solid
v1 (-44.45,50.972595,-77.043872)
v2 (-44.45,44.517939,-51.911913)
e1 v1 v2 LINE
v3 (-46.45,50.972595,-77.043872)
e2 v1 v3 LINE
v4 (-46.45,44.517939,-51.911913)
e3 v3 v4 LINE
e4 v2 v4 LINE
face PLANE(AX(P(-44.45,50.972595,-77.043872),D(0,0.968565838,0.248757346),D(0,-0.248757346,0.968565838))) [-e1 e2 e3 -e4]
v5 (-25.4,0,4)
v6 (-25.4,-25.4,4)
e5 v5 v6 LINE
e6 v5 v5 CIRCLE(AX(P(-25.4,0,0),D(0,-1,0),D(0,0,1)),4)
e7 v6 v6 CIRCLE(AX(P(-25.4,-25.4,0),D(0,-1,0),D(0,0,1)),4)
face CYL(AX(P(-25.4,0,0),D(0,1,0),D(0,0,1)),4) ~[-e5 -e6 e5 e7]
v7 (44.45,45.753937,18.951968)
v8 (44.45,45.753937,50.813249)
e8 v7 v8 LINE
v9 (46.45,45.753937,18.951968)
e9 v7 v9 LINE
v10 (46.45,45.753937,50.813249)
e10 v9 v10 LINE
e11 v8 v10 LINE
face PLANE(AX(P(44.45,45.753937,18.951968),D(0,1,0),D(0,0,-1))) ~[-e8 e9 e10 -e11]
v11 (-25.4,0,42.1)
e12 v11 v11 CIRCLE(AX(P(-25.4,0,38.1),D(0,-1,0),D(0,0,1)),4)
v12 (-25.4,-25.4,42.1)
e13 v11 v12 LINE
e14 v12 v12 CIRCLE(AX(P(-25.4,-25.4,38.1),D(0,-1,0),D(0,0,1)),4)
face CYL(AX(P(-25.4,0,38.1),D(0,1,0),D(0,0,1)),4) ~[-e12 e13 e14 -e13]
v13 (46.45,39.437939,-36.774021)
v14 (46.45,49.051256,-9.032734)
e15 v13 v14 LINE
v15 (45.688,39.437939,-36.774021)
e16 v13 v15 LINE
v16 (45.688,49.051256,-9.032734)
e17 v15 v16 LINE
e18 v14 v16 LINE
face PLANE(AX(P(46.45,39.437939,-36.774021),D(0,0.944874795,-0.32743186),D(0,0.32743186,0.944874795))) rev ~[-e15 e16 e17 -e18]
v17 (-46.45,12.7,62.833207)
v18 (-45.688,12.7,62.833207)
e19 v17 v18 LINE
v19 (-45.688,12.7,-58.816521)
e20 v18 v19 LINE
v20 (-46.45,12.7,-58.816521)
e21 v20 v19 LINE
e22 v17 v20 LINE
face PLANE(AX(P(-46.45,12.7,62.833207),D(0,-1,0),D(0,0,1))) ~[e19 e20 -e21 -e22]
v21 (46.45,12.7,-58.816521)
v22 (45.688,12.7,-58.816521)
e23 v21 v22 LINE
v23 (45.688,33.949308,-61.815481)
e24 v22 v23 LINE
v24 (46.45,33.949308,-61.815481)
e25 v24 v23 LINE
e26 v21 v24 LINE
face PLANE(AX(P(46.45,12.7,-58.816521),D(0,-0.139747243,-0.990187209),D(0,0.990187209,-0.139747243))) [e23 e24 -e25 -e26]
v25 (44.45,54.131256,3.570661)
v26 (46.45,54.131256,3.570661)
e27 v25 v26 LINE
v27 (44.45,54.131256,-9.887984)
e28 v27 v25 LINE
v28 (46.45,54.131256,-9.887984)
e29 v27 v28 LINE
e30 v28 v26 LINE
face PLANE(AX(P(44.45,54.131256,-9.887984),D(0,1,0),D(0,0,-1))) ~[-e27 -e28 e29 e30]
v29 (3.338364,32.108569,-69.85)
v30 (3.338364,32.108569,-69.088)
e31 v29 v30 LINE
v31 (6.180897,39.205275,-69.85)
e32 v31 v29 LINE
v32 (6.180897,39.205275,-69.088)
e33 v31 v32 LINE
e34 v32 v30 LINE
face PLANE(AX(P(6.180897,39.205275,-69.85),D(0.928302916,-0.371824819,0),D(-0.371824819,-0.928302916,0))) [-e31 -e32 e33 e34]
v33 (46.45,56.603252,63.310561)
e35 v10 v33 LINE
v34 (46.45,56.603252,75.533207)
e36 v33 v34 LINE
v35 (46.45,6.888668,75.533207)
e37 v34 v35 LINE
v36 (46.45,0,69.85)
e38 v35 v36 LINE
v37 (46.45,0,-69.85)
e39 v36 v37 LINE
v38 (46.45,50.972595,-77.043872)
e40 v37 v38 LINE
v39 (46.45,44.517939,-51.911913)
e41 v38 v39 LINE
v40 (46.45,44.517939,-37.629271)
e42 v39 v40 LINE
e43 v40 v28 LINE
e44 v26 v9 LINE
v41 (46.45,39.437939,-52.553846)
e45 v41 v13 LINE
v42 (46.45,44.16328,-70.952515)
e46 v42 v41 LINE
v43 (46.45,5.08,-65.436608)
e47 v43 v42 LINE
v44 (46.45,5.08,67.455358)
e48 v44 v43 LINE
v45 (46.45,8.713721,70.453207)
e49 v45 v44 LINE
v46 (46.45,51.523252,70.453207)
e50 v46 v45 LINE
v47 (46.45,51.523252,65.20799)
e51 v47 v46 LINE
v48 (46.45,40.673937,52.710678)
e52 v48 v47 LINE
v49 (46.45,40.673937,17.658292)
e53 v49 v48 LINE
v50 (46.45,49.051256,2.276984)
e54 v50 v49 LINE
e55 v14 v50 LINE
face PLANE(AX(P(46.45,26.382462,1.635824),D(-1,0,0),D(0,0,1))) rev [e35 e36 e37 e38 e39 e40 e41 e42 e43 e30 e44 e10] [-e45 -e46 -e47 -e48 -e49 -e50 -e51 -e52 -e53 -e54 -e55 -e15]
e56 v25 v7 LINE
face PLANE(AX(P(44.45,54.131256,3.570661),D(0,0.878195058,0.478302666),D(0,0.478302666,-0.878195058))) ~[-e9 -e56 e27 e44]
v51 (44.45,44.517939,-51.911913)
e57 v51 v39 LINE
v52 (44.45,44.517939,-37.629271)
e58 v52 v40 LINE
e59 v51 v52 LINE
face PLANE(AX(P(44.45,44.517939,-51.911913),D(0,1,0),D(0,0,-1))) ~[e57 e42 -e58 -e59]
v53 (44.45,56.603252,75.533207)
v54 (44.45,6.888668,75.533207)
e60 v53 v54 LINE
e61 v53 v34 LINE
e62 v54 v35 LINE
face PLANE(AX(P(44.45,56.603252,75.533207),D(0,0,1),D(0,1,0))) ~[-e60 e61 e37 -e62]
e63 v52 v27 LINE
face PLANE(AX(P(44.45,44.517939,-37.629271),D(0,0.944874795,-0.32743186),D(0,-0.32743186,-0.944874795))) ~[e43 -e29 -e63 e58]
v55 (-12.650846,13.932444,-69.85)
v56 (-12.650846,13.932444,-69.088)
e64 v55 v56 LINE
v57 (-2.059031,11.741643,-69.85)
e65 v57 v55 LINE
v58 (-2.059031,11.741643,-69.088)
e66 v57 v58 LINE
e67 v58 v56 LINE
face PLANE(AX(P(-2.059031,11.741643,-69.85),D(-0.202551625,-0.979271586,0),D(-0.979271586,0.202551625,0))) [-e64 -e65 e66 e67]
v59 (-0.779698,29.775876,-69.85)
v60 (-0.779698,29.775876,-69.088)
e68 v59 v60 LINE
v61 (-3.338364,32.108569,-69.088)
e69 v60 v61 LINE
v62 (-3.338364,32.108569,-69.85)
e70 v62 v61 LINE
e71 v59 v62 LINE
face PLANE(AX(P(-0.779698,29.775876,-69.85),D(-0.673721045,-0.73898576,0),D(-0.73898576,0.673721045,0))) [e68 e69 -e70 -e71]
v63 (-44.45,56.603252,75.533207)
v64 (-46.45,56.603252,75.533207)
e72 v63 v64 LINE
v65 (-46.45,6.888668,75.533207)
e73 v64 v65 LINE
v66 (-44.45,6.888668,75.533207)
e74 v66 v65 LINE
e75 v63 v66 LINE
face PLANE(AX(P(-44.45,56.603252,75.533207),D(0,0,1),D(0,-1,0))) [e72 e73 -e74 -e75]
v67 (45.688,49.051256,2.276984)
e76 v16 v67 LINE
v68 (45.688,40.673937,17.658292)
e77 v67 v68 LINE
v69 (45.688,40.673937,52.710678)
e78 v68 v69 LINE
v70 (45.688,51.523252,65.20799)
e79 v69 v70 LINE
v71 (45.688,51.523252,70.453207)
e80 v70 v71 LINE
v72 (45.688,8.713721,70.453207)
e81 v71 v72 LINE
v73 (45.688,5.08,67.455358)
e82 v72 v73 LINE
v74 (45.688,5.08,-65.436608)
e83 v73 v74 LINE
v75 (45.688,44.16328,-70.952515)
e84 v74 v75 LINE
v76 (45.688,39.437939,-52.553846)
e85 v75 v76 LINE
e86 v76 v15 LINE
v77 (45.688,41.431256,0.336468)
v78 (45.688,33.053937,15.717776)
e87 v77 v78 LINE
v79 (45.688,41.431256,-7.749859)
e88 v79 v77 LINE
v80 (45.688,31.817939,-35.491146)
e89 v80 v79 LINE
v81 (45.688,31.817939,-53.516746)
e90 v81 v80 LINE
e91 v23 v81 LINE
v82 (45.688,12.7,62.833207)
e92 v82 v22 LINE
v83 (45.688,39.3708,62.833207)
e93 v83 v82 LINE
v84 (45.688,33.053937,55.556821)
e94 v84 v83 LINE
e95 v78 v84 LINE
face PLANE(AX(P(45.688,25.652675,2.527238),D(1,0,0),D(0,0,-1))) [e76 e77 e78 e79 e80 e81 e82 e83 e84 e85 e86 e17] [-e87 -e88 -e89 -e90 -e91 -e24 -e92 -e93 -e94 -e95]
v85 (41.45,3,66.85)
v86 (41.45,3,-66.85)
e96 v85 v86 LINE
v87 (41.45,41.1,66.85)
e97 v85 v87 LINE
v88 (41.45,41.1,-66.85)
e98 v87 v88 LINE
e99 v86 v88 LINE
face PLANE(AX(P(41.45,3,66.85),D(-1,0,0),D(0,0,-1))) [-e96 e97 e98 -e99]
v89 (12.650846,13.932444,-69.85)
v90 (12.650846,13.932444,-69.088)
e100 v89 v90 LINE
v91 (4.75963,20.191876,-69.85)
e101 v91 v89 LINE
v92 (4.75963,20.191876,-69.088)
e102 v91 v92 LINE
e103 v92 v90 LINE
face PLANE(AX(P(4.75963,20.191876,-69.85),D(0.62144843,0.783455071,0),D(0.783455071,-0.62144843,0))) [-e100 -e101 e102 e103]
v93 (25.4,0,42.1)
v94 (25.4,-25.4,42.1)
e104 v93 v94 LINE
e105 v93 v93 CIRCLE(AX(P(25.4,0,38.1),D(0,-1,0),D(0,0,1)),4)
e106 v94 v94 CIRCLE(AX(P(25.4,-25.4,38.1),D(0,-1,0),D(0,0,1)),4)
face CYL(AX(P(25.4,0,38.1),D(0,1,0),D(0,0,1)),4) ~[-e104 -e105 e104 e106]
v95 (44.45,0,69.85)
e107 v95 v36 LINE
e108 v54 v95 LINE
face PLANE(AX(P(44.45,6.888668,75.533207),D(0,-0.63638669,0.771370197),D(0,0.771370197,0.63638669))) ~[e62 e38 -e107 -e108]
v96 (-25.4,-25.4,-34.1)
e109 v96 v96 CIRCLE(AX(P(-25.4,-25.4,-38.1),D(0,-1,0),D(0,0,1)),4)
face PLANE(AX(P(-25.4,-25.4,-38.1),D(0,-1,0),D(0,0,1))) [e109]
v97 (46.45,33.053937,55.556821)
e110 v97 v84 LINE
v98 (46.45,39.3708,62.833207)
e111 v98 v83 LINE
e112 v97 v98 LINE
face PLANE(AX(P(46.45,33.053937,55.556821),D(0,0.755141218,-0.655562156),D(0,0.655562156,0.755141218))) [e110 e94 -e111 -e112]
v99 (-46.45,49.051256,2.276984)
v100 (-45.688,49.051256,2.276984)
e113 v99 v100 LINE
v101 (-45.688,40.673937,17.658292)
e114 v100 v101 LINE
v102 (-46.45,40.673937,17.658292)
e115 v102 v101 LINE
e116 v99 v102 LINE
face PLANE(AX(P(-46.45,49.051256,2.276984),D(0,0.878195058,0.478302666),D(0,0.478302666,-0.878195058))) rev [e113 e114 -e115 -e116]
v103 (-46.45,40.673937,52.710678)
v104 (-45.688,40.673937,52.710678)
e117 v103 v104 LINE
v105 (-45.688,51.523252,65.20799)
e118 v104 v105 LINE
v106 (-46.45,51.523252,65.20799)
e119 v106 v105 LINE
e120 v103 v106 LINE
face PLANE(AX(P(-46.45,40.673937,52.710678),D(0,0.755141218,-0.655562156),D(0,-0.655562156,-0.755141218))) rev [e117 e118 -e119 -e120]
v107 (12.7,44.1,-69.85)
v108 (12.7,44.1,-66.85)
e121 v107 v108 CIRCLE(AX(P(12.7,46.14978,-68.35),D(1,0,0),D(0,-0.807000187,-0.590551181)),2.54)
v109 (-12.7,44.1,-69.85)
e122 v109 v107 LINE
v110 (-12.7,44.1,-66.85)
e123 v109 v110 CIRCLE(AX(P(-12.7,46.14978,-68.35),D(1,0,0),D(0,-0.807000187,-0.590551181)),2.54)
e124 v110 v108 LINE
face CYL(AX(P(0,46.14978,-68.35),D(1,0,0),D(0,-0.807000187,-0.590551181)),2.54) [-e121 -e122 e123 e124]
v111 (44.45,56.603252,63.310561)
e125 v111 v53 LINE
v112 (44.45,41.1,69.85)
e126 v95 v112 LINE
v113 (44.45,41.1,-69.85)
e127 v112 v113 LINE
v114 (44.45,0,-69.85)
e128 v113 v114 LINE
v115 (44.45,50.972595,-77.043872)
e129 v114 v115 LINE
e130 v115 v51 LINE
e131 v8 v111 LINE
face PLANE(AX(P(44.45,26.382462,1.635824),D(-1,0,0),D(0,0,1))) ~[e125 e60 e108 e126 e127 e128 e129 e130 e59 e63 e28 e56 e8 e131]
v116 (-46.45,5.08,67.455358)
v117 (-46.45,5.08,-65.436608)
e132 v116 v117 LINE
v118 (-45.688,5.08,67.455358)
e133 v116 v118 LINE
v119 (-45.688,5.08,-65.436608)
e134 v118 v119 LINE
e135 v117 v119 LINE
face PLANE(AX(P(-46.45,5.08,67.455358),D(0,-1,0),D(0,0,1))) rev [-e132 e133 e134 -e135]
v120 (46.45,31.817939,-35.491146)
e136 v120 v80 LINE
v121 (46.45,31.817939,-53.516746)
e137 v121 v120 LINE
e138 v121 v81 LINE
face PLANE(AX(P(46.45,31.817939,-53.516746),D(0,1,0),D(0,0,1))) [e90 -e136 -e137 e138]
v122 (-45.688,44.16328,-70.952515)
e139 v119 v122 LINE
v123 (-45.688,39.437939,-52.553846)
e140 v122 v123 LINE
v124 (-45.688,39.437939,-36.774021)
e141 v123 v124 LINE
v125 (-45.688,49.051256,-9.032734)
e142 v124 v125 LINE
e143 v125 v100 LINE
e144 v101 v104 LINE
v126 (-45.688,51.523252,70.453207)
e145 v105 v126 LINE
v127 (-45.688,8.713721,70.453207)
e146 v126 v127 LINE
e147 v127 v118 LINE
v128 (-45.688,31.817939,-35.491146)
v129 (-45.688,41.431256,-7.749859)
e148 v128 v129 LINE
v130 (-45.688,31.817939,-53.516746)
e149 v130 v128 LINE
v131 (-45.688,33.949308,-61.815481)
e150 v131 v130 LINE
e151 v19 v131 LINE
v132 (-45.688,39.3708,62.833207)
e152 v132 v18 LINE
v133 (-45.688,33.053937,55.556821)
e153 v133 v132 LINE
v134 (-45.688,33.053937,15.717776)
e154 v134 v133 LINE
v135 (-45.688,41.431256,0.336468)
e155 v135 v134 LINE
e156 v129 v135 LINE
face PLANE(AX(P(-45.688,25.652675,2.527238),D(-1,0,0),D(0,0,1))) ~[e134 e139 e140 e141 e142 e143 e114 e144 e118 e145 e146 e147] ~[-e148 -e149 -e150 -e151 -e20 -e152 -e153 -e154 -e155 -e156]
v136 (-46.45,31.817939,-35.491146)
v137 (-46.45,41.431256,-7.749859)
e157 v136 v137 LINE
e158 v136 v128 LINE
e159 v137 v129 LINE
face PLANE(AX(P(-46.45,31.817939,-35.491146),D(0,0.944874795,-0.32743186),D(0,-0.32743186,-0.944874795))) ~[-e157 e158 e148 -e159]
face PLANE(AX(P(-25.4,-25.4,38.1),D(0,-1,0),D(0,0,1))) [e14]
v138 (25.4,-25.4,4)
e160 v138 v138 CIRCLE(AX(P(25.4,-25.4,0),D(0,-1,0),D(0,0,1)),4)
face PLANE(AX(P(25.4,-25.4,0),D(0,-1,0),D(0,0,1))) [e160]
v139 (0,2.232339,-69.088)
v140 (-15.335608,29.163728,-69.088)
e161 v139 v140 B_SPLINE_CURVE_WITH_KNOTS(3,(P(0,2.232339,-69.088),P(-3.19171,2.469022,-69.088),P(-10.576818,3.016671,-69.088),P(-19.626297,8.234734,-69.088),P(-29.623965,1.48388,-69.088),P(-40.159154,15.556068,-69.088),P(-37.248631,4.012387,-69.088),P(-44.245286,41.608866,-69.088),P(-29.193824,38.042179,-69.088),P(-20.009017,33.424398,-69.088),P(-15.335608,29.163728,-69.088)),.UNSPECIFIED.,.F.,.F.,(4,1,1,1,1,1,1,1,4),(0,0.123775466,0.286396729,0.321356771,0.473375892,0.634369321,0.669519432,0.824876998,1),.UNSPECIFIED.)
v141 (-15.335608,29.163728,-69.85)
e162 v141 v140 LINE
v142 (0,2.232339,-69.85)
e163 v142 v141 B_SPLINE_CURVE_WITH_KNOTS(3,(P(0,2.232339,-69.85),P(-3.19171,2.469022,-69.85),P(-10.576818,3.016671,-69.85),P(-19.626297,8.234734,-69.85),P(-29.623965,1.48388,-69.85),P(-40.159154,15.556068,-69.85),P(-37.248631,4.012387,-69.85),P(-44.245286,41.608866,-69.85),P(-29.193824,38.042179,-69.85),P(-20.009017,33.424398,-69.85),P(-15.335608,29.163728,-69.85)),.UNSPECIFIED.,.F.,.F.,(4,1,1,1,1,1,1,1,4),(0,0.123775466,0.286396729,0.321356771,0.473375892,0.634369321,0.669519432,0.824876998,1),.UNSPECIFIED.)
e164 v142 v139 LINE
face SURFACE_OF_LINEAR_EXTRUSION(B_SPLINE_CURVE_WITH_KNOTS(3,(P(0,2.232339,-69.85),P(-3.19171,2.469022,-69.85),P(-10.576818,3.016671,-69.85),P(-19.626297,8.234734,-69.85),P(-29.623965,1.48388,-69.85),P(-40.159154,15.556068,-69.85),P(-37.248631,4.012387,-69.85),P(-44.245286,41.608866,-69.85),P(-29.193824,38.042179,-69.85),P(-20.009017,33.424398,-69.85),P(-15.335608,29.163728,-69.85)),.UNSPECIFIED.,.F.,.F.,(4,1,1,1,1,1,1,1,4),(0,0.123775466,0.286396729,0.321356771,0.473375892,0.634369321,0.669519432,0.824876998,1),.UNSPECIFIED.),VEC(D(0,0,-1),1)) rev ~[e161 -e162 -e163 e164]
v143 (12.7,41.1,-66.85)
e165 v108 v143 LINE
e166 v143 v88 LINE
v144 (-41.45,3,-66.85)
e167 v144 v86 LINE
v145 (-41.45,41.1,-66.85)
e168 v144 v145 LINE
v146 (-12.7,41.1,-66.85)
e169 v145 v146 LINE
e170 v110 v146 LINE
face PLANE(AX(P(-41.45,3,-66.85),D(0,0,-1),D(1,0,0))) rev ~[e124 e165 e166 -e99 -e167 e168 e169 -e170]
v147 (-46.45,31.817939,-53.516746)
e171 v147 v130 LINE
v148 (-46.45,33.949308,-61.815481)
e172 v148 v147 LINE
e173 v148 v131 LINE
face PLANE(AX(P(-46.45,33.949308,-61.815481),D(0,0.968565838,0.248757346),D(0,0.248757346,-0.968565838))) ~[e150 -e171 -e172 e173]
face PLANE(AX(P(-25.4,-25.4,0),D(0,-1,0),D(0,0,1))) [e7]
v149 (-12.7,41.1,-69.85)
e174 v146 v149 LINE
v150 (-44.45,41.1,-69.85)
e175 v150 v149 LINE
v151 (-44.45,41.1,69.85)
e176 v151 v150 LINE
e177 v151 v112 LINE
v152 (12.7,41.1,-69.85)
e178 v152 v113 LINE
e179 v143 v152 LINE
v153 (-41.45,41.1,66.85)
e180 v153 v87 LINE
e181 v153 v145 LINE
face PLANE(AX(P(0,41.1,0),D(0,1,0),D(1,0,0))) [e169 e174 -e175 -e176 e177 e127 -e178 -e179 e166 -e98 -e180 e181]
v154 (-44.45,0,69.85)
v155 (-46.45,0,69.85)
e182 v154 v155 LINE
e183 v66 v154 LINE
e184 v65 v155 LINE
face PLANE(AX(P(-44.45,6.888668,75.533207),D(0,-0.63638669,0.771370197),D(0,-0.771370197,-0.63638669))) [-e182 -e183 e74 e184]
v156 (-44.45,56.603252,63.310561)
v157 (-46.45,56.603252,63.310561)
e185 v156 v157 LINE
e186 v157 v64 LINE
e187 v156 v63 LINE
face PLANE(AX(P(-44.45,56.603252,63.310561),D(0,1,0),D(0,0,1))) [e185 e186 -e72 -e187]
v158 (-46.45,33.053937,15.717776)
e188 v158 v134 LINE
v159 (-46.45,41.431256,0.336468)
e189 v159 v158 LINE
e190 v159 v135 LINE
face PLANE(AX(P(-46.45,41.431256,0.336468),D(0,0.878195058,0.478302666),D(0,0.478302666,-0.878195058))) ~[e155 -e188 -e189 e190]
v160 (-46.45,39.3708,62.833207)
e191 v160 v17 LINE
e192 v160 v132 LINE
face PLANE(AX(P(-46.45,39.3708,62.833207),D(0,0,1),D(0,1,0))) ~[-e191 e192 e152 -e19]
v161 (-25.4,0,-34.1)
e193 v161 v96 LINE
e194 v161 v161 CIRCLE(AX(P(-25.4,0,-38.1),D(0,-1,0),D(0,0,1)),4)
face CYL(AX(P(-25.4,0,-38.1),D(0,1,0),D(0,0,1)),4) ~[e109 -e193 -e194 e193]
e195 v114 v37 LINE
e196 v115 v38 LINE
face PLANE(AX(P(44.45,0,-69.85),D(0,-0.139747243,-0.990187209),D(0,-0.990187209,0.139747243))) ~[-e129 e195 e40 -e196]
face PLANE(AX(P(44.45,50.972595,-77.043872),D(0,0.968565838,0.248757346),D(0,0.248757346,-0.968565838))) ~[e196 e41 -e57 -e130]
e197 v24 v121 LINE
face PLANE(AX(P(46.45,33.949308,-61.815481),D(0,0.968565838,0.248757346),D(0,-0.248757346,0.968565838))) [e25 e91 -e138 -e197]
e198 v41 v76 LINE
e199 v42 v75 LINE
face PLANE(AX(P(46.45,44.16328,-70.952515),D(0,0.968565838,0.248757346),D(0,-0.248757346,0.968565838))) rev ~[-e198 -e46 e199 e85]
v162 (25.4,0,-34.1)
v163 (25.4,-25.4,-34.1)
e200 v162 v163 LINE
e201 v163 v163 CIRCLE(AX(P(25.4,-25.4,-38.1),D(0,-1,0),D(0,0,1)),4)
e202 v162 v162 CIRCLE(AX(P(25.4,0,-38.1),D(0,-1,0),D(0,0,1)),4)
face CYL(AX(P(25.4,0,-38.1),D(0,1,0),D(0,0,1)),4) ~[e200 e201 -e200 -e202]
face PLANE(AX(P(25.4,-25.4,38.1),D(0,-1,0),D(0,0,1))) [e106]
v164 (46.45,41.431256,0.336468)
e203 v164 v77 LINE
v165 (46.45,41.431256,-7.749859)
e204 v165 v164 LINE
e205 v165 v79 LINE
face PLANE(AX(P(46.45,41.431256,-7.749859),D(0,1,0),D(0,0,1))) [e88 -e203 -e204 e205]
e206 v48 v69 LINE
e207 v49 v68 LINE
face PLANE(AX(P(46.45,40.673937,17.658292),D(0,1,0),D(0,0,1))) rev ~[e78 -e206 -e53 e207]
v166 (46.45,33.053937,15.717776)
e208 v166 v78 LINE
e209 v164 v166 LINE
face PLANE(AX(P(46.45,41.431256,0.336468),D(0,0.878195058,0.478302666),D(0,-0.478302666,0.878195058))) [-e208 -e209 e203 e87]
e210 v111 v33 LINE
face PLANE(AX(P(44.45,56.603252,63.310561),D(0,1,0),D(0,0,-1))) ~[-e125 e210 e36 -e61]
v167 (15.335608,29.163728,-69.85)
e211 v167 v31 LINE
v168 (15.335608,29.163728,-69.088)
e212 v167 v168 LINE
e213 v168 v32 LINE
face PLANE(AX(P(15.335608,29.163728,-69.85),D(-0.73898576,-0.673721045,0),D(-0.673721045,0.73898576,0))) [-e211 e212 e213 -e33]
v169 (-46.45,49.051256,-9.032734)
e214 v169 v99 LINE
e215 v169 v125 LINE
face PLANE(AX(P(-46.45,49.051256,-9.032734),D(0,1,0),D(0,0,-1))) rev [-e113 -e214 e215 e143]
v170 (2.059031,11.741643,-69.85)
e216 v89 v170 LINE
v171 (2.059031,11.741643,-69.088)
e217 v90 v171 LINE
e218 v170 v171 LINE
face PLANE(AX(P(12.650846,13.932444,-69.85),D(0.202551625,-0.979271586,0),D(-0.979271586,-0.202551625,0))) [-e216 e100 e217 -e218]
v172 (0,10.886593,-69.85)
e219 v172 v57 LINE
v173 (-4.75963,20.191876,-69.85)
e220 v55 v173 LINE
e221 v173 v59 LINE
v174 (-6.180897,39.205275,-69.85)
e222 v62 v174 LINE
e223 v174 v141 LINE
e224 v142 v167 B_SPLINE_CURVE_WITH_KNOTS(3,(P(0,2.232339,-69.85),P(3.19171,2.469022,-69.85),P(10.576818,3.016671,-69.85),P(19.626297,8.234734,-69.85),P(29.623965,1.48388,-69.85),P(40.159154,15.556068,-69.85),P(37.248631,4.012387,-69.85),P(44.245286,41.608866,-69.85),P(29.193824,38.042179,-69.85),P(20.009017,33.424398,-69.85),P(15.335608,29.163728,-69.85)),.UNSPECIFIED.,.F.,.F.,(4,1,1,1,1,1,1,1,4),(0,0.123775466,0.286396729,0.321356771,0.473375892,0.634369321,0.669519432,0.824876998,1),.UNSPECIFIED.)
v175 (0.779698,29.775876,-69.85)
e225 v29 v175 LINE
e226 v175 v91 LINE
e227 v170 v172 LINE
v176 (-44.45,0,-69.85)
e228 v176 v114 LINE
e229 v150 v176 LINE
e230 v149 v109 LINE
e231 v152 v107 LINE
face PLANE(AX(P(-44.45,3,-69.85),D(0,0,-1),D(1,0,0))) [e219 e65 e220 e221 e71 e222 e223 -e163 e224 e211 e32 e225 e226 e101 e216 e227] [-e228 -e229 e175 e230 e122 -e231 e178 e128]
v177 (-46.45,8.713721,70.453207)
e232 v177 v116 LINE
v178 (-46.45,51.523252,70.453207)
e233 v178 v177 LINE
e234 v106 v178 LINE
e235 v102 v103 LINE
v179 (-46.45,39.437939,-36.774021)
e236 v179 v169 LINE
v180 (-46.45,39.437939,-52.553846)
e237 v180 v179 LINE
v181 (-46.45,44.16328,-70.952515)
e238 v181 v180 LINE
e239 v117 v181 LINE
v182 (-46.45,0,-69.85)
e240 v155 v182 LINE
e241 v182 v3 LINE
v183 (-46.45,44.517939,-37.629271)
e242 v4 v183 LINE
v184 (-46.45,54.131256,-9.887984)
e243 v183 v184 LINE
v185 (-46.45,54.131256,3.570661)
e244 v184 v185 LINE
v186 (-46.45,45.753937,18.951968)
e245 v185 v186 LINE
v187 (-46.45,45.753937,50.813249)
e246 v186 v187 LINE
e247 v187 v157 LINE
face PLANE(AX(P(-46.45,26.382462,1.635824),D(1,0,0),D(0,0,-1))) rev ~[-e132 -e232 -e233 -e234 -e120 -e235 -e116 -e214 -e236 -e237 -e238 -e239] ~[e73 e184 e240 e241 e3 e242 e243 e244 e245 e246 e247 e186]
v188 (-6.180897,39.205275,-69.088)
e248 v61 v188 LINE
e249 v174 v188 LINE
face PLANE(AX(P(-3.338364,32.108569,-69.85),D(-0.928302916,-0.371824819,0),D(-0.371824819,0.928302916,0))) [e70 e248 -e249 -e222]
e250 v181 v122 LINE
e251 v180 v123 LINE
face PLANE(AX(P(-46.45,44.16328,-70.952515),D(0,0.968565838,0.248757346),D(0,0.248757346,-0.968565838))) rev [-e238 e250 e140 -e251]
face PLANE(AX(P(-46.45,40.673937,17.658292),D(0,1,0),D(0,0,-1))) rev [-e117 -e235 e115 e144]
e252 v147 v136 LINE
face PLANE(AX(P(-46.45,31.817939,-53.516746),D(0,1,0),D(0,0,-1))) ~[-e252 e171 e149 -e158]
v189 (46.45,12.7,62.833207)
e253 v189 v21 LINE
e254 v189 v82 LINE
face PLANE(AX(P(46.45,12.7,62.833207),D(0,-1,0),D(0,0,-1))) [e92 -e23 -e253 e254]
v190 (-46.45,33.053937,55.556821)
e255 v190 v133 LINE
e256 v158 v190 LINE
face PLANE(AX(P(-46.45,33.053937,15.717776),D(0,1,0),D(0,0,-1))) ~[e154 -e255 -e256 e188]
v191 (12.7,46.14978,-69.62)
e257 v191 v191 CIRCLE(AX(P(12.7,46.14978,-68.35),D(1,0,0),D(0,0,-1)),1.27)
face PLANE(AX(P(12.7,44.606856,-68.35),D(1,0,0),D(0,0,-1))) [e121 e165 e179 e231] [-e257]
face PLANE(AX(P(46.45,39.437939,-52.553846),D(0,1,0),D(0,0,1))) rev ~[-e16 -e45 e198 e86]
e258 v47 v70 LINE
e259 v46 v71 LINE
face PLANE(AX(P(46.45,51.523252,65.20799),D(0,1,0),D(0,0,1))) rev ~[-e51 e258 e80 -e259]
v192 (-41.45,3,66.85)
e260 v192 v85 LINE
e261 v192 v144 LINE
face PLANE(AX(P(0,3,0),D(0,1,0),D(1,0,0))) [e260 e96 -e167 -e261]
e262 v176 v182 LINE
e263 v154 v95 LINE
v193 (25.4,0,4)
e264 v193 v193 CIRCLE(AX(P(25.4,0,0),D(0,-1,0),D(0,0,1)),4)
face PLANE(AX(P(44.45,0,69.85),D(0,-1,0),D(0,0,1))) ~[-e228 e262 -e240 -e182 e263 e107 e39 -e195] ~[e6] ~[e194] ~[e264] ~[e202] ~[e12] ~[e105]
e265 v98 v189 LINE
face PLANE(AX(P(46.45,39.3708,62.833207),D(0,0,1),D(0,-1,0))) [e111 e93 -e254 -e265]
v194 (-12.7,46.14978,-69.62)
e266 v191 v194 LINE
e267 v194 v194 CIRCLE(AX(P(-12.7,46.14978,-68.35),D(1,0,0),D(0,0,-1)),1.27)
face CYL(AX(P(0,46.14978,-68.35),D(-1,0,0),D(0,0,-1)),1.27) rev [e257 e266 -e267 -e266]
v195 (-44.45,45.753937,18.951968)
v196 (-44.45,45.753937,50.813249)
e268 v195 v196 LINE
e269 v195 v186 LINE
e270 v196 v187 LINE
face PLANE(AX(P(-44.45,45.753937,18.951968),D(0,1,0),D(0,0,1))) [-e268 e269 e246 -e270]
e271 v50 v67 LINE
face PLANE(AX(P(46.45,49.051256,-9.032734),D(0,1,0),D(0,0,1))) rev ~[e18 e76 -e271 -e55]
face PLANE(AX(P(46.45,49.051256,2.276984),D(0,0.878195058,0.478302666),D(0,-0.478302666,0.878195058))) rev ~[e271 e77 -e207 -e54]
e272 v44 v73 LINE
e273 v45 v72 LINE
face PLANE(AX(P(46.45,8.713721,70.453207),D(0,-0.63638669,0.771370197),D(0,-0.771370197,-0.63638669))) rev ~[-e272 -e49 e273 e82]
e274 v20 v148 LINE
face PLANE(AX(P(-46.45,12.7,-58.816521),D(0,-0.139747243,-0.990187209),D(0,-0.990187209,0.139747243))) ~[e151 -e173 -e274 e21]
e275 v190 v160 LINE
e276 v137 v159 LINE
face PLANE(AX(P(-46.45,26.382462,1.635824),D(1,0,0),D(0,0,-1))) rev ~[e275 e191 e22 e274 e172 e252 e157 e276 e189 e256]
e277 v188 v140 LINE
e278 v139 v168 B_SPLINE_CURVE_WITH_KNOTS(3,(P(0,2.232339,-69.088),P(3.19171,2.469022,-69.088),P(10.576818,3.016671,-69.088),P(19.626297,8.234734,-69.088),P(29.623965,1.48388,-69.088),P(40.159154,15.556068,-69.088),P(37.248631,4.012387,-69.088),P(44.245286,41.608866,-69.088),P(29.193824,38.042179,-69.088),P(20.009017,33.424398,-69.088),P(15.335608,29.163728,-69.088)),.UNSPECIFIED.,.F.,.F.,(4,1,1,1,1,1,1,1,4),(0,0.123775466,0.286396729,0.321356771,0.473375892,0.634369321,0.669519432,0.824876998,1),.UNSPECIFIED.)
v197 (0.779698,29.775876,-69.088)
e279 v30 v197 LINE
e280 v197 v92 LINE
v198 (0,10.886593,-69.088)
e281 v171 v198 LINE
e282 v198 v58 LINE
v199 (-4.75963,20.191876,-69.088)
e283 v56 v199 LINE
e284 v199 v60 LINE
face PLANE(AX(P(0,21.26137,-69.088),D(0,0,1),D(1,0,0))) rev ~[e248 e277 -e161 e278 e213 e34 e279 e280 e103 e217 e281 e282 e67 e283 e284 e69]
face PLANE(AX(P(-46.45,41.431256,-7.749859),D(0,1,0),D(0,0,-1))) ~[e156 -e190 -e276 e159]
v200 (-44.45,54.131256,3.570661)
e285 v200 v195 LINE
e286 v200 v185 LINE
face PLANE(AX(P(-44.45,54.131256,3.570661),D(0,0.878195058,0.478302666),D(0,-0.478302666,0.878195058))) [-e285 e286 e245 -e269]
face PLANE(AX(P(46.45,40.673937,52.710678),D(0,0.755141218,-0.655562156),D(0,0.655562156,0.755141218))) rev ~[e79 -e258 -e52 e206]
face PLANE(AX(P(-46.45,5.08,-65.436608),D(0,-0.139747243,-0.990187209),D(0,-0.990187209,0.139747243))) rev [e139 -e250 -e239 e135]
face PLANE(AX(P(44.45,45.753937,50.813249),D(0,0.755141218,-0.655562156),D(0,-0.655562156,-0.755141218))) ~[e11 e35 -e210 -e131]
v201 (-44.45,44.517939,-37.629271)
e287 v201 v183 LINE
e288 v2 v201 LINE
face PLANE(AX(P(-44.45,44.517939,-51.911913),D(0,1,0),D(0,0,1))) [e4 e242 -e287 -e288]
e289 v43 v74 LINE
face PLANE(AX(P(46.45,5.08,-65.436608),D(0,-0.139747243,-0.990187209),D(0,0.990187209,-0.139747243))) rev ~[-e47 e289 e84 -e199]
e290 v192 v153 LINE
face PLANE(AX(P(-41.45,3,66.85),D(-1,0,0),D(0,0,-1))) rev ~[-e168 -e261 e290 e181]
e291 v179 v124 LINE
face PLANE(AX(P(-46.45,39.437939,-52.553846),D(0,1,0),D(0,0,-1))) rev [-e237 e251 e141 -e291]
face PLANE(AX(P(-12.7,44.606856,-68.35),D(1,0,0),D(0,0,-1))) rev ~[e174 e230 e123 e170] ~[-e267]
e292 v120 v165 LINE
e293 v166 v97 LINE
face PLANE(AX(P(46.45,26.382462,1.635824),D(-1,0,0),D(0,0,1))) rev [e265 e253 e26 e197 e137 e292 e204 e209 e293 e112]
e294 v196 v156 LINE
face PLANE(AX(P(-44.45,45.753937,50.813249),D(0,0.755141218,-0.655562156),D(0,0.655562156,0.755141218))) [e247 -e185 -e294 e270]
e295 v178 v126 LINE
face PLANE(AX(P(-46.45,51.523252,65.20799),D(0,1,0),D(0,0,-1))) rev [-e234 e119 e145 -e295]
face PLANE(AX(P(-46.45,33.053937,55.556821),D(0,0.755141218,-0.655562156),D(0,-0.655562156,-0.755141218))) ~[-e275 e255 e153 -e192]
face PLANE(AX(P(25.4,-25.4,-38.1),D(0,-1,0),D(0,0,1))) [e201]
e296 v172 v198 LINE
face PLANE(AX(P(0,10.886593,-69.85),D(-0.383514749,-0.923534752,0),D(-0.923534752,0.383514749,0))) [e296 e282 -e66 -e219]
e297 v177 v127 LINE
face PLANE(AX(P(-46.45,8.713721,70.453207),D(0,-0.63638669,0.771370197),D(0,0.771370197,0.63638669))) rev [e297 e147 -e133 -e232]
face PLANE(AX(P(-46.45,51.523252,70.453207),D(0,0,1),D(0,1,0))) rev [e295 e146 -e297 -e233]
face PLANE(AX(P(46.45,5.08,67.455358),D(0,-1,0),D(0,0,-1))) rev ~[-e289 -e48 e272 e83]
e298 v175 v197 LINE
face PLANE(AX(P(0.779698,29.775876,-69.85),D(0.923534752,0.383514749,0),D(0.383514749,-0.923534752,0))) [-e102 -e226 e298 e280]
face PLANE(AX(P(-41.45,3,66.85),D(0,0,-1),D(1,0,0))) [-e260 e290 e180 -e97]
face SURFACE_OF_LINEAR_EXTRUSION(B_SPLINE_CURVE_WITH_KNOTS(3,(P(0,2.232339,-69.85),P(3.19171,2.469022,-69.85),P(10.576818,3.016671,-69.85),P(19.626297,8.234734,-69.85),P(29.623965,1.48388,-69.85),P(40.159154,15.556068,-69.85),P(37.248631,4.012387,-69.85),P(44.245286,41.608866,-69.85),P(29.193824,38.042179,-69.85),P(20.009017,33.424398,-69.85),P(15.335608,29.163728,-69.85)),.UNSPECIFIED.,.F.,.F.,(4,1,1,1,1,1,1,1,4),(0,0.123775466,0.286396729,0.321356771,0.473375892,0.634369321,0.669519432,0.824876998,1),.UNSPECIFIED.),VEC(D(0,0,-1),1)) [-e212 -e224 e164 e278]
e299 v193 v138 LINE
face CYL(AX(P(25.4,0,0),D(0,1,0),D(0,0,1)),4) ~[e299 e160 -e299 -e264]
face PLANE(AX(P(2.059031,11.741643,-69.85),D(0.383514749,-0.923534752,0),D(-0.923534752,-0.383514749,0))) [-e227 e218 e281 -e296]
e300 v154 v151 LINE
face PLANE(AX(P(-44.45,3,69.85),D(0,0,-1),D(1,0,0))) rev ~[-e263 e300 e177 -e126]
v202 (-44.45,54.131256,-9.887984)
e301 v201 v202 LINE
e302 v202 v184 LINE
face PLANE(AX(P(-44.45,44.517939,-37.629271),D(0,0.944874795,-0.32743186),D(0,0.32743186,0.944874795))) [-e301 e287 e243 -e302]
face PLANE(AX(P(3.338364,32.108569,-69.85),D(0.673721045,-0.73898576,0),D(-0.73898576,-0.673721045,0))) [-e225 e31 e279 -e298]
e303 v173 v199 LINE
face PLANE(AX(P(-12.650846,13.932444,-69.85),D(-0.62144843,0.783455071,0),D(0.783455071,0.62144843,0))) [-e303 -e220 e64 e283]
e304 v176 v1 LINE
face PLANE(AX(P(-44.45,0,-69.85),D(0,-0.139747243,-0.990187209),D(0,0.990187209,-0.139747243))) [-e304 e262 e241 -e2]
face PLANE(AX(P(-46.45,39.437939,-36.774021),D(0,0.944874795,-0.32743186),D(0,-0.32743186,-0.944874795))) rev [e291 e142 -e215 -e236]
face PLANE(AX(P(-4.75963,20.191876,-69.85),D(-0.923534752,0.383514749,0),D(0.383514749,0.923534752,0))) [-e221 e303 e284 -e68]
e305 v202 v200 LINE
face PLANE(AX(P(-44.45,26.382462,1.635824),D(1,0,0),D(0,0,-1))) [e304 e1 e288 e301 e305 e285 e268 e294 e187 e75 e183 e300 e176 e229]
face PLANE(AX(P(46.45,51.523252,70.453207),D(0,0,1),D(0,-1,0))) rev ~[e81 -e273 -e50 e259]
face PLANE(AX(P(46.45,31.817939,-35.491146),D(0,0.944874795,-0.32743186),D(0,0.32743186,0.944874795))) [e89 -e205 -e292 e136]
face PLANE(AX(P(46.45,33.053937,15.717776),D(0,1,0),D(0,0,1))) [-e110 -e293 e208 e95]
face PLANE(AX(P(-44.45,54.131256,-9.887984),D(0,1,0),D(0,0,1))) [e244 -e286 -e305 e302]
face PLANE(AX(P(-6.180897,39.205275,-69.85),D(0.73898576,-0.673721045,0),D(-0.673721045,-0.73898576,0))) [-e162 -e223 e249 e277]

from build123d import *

# Parameters (mm, degrees)
SKETCH2_W           = 88.9
SKETCH2_H           = 139.7
BOSS_EXTRUDE1_DEPTH = 3
SKETCH3_R           = 4
BOSS_EXTRUDE2_DEPTH = 25.4
SKETCH4_W           = 88.9
SKETCH4_H           = 139.7
SKETCH4_W_2         = 82.9
SKETCH4_H_2         = 133.7
BOSS_EXTRUDE3_DEPTH = 38.1
BOSS_EXTRUDE4_DEPTH = 2
SKETCH6_R           = 1.27
BOSS_EXTRUDE5_DEPTH = 12.7
CUT_EXTRUDE1_DEPTH  = 0.762
CUT_EXTRUDE6_DEPTH  = 0.762


with BuildPart() as part:
    # Sketch2 → Boss-Extrude1 (new body)
    with BuildSketch(Plane(origin=(0, 0, 0), x_dir=(1, 0, 0), z_dir=(0, 1, 0))):
        Rectangle(SKETCH2_W, SKETCH2_H)
    extrude(amount=BOSS_EXTRUDE1_DEPTH)

    # Sketch3 → Boss-Extrude2 (add)
    with BuildSketch(Plane.XZ):
        with Locations(Location((-25.4, 0, 0), (0, 0, 90))):
            Circle(SKETCH3_R)
        with Locations(Location((-25.4, 38.1, 0), (0, 0, 90))):
            Circle(SKETCH3_R)
        with Locations(Location((-25.4, -38.1, 0), (0, 0, 90))):
            Circle(SKETCH3_R)
        with Locations(Location((25.4, -38.1, 0), (0, 0, 90))):
            Circle(SKETCH3_R)
        with Locations(Location((25.4, 38.1, 0), (0, 0, 90))):
            Circle(SKETCH3_R)
        with Locations(Location((25.4, 0, 0), (0, 0, 90))):
            Circle(SKETCH3_R)
    extrude(amount=BOSS_EXTRUDE2_DEPTH)

    # Sketch4 → Boss-Extrude3 (add)
    with BuildSketch(Plane(origin=(0, 3, 0), x_dir=(1, 0, 0), z_dir=(0, 1, 0))):
        Rectangle(SKETCH4_W, SKETCH4_H)
        Rectangle(SKETCH4_W_2, SKETCH4_H_2, mode=Mode.SUBTRACT)
    extrude(amount=BOSS_EXTRUDE3_DEPTH)

    # Sketch5 → Boss-Extrude4 (add)
    with BuildSketch(Plane.ZY.offset(44.45)):
        Polygon((-69.85, 0), (-77.043871534, 50.972594762), (-51.91191344, 44.517938858), (-37.629270589, 44.517938858), (-9.887983512, 54.131256162), (3.570660713, 54.131256162), (18.951968399, 45.753936798), (50.813248605, 45.753936798), (63.3105611, 56.60325204), (75.533207386, 56.60325204), (75.533207386, 6.88866827), (69.85, 0), align=None)
    boss_extrude4 = extrude(amount=BOSS_EXTRUDE4_DEPTH)

    # Mirror1: Boss-Extrude4 across plane
    add(boss_extrude4.mirror(Plane(origin=(0, 0, 0), x_dir=(0, 0, 1), z_dir=(1, 0, 0))))

    # Sketch6 → Boss-Extrude5 (add, symmetric)
    with BuildSketch(Plane(origin=(0, 0, 0), x_dir=(0, 0, -1), z_dir=(1, 0, 0))):
        with BuildLine():
            Line((69.85, 41.1), (69.85, 44.1))
            ThreePointArc((69.85, 44.1), (68.35, 48.689780476), (66.85, 44.1))
            Line((66.85, 44.1), (66.85, 41.1))
            Line((66.85, 41.1), (69.85, 41.1))
        make_face()
        with Locations((68.35, 46.149780476)):
            Circle(SKETCH6_R, mode=Mode.SUBTRACT)
    extrude(amount=BOSS_EXTRUDE5_DEPTH, both=True)

    # Sketch8 → Cut-Extrude1 (cut)
    with BuildSketch(Plane(origin=(46.45, 0, 0), x_dir=(0, 0, -1), z_dir=(1, 0, 0))):
        Polygon((-67.455357815, 5.08), (65.436608301, 5.08), (70.952515373, 44.163280067), (52.553846412, 39.437938858), (36.774020754, 39.437938858), (9.032733678, 49.051256162), (-2.276983823, 49.051256162), (-17.658291509, 40.673936798), (-52.710677553, 40.673936798), (-65.207990048, 51.52325204), (-70.453207386, 51.52325204), (-70.453207386, 8.71372121), align=None)
        Polygon((-62.833207386, 12.7), (58.816520753, 12.7), (61.815481132, 33.949308024), (53.516745871, 31.817938858), (35.491146002, 31.817938858), (7.749858926, 41.431256162), (-0.336468488, 41.431256162), (-15.717776174, 33.053936798), (-55.556820974, 33.053936798), (-62.833207386, 39.370799727), align=None, mode=Mode.SUBTRACT)
    cut_extrude1 = extrude(amount=-CUT_EXTRUDE1_DEPTH, mode=Mode.SUBTRACT)

    # Mirror2: Cut-Extrude1 across plane
    add(cut_extrude1.mirror(Plane(origin=(0, 0, 0), x_dir=(0, 0, 1), z_dir=(1, 0, 0))), mode=Mode.SUBTRACT)

    # Sketch9 → Cut-Extrude6 (cut)
    with BuildSketch(Plane(origin=(0, 0, -69.85), x_dir=(-1, 0, 0), z_dir=(0, 0, -1))):
        with BuildLine():
            add(Edge.make_bspline(
                [(0, 2.232338579), (-3.191709729, 2.469022224), (-10.576818068, 3.01667051), (-19.626296774, 8.234734007), (-29.623964586, 1.483879995), (-40.159154339, 15.556067791), (-37.24863112, 4.012387296), (-44.245285678, 41.608866434), (-29.193824408, 38.042179171), (-20.009016941, 33.424397646), (-15.335608076, 29.1637284)],
                knots=[0, 0, 0, 0, 0.123775466, 0.286396729, 0.321356771, 0.473375892, 0.634369321, 0.669519432, 0.824876998, 1, 1, 1, 1], degree=3))
            Line((-15.335608076, 29.1637284), (-6.180896532, 39.205275306))
            Line((-6.180896532, 39.205275306), (-3.338363663, 32.108568953))
            Line((-3.338363663, 32.108568953), (-0.779698225, 29.775876168))
            Line((-0.779698225, 29.775876168), (-4.759630097, 20.191876056))
            Line((-4.759630097, 20.191876056), (-12.650845852, 13.932444189))
            Line((-12.650845852, 13.932444189), (-2.059030944, 11.741643035))
            Line((-2.059030944, 11.741643035), (0, 10.886592661))
            Line((0, 10.886592661), (2.059030944, 11.741643035))
            Line((2.059030944, 11.741643035), (12.650845852, 13.932444189))
            Line((12.650845852, 13.932444189), (4.759630097, 20.191876056))
            Line((4.759630097, 20.191876056), (0.779698225, 29.775876168))
            Line((0.779698225, 29.775876168), (3.338363663, 32.108568953))
            Line((3.338363663, 32.108568953), (6.180896532, 39.205275306))
            Line((6.180896532, 39.205275306), (15.335608076, 29.1637284))
            add(Edge.make_bspline(
                [(0, 2.232338579), (3.191709729, 2.469022224), (10.576818068, 3.01667051), (19.626296774, 8.234734007), (29.623964586, 1.483879995), (40.159154339, 15.556067791), (37.24863112, 4.012387296), (44.245285678, 41.608866434), (29.193824408, 38.042179171), (20.009016941, 33.424397646), (15.335608076, 29.1637284)],
                knots=[0, 0, 0, 0, 0.123775466, 0.286396729, 0.321356771, 0.473375892, 0.634369321, 0.669519432, 0.824876998, 1, 1, 1, 1], degree=3))
        make_face()
    extrude(amount=-CUT_EXTRUDE6_DEPTH, mode=Mode.SUBTRACT)


solid = part.part
